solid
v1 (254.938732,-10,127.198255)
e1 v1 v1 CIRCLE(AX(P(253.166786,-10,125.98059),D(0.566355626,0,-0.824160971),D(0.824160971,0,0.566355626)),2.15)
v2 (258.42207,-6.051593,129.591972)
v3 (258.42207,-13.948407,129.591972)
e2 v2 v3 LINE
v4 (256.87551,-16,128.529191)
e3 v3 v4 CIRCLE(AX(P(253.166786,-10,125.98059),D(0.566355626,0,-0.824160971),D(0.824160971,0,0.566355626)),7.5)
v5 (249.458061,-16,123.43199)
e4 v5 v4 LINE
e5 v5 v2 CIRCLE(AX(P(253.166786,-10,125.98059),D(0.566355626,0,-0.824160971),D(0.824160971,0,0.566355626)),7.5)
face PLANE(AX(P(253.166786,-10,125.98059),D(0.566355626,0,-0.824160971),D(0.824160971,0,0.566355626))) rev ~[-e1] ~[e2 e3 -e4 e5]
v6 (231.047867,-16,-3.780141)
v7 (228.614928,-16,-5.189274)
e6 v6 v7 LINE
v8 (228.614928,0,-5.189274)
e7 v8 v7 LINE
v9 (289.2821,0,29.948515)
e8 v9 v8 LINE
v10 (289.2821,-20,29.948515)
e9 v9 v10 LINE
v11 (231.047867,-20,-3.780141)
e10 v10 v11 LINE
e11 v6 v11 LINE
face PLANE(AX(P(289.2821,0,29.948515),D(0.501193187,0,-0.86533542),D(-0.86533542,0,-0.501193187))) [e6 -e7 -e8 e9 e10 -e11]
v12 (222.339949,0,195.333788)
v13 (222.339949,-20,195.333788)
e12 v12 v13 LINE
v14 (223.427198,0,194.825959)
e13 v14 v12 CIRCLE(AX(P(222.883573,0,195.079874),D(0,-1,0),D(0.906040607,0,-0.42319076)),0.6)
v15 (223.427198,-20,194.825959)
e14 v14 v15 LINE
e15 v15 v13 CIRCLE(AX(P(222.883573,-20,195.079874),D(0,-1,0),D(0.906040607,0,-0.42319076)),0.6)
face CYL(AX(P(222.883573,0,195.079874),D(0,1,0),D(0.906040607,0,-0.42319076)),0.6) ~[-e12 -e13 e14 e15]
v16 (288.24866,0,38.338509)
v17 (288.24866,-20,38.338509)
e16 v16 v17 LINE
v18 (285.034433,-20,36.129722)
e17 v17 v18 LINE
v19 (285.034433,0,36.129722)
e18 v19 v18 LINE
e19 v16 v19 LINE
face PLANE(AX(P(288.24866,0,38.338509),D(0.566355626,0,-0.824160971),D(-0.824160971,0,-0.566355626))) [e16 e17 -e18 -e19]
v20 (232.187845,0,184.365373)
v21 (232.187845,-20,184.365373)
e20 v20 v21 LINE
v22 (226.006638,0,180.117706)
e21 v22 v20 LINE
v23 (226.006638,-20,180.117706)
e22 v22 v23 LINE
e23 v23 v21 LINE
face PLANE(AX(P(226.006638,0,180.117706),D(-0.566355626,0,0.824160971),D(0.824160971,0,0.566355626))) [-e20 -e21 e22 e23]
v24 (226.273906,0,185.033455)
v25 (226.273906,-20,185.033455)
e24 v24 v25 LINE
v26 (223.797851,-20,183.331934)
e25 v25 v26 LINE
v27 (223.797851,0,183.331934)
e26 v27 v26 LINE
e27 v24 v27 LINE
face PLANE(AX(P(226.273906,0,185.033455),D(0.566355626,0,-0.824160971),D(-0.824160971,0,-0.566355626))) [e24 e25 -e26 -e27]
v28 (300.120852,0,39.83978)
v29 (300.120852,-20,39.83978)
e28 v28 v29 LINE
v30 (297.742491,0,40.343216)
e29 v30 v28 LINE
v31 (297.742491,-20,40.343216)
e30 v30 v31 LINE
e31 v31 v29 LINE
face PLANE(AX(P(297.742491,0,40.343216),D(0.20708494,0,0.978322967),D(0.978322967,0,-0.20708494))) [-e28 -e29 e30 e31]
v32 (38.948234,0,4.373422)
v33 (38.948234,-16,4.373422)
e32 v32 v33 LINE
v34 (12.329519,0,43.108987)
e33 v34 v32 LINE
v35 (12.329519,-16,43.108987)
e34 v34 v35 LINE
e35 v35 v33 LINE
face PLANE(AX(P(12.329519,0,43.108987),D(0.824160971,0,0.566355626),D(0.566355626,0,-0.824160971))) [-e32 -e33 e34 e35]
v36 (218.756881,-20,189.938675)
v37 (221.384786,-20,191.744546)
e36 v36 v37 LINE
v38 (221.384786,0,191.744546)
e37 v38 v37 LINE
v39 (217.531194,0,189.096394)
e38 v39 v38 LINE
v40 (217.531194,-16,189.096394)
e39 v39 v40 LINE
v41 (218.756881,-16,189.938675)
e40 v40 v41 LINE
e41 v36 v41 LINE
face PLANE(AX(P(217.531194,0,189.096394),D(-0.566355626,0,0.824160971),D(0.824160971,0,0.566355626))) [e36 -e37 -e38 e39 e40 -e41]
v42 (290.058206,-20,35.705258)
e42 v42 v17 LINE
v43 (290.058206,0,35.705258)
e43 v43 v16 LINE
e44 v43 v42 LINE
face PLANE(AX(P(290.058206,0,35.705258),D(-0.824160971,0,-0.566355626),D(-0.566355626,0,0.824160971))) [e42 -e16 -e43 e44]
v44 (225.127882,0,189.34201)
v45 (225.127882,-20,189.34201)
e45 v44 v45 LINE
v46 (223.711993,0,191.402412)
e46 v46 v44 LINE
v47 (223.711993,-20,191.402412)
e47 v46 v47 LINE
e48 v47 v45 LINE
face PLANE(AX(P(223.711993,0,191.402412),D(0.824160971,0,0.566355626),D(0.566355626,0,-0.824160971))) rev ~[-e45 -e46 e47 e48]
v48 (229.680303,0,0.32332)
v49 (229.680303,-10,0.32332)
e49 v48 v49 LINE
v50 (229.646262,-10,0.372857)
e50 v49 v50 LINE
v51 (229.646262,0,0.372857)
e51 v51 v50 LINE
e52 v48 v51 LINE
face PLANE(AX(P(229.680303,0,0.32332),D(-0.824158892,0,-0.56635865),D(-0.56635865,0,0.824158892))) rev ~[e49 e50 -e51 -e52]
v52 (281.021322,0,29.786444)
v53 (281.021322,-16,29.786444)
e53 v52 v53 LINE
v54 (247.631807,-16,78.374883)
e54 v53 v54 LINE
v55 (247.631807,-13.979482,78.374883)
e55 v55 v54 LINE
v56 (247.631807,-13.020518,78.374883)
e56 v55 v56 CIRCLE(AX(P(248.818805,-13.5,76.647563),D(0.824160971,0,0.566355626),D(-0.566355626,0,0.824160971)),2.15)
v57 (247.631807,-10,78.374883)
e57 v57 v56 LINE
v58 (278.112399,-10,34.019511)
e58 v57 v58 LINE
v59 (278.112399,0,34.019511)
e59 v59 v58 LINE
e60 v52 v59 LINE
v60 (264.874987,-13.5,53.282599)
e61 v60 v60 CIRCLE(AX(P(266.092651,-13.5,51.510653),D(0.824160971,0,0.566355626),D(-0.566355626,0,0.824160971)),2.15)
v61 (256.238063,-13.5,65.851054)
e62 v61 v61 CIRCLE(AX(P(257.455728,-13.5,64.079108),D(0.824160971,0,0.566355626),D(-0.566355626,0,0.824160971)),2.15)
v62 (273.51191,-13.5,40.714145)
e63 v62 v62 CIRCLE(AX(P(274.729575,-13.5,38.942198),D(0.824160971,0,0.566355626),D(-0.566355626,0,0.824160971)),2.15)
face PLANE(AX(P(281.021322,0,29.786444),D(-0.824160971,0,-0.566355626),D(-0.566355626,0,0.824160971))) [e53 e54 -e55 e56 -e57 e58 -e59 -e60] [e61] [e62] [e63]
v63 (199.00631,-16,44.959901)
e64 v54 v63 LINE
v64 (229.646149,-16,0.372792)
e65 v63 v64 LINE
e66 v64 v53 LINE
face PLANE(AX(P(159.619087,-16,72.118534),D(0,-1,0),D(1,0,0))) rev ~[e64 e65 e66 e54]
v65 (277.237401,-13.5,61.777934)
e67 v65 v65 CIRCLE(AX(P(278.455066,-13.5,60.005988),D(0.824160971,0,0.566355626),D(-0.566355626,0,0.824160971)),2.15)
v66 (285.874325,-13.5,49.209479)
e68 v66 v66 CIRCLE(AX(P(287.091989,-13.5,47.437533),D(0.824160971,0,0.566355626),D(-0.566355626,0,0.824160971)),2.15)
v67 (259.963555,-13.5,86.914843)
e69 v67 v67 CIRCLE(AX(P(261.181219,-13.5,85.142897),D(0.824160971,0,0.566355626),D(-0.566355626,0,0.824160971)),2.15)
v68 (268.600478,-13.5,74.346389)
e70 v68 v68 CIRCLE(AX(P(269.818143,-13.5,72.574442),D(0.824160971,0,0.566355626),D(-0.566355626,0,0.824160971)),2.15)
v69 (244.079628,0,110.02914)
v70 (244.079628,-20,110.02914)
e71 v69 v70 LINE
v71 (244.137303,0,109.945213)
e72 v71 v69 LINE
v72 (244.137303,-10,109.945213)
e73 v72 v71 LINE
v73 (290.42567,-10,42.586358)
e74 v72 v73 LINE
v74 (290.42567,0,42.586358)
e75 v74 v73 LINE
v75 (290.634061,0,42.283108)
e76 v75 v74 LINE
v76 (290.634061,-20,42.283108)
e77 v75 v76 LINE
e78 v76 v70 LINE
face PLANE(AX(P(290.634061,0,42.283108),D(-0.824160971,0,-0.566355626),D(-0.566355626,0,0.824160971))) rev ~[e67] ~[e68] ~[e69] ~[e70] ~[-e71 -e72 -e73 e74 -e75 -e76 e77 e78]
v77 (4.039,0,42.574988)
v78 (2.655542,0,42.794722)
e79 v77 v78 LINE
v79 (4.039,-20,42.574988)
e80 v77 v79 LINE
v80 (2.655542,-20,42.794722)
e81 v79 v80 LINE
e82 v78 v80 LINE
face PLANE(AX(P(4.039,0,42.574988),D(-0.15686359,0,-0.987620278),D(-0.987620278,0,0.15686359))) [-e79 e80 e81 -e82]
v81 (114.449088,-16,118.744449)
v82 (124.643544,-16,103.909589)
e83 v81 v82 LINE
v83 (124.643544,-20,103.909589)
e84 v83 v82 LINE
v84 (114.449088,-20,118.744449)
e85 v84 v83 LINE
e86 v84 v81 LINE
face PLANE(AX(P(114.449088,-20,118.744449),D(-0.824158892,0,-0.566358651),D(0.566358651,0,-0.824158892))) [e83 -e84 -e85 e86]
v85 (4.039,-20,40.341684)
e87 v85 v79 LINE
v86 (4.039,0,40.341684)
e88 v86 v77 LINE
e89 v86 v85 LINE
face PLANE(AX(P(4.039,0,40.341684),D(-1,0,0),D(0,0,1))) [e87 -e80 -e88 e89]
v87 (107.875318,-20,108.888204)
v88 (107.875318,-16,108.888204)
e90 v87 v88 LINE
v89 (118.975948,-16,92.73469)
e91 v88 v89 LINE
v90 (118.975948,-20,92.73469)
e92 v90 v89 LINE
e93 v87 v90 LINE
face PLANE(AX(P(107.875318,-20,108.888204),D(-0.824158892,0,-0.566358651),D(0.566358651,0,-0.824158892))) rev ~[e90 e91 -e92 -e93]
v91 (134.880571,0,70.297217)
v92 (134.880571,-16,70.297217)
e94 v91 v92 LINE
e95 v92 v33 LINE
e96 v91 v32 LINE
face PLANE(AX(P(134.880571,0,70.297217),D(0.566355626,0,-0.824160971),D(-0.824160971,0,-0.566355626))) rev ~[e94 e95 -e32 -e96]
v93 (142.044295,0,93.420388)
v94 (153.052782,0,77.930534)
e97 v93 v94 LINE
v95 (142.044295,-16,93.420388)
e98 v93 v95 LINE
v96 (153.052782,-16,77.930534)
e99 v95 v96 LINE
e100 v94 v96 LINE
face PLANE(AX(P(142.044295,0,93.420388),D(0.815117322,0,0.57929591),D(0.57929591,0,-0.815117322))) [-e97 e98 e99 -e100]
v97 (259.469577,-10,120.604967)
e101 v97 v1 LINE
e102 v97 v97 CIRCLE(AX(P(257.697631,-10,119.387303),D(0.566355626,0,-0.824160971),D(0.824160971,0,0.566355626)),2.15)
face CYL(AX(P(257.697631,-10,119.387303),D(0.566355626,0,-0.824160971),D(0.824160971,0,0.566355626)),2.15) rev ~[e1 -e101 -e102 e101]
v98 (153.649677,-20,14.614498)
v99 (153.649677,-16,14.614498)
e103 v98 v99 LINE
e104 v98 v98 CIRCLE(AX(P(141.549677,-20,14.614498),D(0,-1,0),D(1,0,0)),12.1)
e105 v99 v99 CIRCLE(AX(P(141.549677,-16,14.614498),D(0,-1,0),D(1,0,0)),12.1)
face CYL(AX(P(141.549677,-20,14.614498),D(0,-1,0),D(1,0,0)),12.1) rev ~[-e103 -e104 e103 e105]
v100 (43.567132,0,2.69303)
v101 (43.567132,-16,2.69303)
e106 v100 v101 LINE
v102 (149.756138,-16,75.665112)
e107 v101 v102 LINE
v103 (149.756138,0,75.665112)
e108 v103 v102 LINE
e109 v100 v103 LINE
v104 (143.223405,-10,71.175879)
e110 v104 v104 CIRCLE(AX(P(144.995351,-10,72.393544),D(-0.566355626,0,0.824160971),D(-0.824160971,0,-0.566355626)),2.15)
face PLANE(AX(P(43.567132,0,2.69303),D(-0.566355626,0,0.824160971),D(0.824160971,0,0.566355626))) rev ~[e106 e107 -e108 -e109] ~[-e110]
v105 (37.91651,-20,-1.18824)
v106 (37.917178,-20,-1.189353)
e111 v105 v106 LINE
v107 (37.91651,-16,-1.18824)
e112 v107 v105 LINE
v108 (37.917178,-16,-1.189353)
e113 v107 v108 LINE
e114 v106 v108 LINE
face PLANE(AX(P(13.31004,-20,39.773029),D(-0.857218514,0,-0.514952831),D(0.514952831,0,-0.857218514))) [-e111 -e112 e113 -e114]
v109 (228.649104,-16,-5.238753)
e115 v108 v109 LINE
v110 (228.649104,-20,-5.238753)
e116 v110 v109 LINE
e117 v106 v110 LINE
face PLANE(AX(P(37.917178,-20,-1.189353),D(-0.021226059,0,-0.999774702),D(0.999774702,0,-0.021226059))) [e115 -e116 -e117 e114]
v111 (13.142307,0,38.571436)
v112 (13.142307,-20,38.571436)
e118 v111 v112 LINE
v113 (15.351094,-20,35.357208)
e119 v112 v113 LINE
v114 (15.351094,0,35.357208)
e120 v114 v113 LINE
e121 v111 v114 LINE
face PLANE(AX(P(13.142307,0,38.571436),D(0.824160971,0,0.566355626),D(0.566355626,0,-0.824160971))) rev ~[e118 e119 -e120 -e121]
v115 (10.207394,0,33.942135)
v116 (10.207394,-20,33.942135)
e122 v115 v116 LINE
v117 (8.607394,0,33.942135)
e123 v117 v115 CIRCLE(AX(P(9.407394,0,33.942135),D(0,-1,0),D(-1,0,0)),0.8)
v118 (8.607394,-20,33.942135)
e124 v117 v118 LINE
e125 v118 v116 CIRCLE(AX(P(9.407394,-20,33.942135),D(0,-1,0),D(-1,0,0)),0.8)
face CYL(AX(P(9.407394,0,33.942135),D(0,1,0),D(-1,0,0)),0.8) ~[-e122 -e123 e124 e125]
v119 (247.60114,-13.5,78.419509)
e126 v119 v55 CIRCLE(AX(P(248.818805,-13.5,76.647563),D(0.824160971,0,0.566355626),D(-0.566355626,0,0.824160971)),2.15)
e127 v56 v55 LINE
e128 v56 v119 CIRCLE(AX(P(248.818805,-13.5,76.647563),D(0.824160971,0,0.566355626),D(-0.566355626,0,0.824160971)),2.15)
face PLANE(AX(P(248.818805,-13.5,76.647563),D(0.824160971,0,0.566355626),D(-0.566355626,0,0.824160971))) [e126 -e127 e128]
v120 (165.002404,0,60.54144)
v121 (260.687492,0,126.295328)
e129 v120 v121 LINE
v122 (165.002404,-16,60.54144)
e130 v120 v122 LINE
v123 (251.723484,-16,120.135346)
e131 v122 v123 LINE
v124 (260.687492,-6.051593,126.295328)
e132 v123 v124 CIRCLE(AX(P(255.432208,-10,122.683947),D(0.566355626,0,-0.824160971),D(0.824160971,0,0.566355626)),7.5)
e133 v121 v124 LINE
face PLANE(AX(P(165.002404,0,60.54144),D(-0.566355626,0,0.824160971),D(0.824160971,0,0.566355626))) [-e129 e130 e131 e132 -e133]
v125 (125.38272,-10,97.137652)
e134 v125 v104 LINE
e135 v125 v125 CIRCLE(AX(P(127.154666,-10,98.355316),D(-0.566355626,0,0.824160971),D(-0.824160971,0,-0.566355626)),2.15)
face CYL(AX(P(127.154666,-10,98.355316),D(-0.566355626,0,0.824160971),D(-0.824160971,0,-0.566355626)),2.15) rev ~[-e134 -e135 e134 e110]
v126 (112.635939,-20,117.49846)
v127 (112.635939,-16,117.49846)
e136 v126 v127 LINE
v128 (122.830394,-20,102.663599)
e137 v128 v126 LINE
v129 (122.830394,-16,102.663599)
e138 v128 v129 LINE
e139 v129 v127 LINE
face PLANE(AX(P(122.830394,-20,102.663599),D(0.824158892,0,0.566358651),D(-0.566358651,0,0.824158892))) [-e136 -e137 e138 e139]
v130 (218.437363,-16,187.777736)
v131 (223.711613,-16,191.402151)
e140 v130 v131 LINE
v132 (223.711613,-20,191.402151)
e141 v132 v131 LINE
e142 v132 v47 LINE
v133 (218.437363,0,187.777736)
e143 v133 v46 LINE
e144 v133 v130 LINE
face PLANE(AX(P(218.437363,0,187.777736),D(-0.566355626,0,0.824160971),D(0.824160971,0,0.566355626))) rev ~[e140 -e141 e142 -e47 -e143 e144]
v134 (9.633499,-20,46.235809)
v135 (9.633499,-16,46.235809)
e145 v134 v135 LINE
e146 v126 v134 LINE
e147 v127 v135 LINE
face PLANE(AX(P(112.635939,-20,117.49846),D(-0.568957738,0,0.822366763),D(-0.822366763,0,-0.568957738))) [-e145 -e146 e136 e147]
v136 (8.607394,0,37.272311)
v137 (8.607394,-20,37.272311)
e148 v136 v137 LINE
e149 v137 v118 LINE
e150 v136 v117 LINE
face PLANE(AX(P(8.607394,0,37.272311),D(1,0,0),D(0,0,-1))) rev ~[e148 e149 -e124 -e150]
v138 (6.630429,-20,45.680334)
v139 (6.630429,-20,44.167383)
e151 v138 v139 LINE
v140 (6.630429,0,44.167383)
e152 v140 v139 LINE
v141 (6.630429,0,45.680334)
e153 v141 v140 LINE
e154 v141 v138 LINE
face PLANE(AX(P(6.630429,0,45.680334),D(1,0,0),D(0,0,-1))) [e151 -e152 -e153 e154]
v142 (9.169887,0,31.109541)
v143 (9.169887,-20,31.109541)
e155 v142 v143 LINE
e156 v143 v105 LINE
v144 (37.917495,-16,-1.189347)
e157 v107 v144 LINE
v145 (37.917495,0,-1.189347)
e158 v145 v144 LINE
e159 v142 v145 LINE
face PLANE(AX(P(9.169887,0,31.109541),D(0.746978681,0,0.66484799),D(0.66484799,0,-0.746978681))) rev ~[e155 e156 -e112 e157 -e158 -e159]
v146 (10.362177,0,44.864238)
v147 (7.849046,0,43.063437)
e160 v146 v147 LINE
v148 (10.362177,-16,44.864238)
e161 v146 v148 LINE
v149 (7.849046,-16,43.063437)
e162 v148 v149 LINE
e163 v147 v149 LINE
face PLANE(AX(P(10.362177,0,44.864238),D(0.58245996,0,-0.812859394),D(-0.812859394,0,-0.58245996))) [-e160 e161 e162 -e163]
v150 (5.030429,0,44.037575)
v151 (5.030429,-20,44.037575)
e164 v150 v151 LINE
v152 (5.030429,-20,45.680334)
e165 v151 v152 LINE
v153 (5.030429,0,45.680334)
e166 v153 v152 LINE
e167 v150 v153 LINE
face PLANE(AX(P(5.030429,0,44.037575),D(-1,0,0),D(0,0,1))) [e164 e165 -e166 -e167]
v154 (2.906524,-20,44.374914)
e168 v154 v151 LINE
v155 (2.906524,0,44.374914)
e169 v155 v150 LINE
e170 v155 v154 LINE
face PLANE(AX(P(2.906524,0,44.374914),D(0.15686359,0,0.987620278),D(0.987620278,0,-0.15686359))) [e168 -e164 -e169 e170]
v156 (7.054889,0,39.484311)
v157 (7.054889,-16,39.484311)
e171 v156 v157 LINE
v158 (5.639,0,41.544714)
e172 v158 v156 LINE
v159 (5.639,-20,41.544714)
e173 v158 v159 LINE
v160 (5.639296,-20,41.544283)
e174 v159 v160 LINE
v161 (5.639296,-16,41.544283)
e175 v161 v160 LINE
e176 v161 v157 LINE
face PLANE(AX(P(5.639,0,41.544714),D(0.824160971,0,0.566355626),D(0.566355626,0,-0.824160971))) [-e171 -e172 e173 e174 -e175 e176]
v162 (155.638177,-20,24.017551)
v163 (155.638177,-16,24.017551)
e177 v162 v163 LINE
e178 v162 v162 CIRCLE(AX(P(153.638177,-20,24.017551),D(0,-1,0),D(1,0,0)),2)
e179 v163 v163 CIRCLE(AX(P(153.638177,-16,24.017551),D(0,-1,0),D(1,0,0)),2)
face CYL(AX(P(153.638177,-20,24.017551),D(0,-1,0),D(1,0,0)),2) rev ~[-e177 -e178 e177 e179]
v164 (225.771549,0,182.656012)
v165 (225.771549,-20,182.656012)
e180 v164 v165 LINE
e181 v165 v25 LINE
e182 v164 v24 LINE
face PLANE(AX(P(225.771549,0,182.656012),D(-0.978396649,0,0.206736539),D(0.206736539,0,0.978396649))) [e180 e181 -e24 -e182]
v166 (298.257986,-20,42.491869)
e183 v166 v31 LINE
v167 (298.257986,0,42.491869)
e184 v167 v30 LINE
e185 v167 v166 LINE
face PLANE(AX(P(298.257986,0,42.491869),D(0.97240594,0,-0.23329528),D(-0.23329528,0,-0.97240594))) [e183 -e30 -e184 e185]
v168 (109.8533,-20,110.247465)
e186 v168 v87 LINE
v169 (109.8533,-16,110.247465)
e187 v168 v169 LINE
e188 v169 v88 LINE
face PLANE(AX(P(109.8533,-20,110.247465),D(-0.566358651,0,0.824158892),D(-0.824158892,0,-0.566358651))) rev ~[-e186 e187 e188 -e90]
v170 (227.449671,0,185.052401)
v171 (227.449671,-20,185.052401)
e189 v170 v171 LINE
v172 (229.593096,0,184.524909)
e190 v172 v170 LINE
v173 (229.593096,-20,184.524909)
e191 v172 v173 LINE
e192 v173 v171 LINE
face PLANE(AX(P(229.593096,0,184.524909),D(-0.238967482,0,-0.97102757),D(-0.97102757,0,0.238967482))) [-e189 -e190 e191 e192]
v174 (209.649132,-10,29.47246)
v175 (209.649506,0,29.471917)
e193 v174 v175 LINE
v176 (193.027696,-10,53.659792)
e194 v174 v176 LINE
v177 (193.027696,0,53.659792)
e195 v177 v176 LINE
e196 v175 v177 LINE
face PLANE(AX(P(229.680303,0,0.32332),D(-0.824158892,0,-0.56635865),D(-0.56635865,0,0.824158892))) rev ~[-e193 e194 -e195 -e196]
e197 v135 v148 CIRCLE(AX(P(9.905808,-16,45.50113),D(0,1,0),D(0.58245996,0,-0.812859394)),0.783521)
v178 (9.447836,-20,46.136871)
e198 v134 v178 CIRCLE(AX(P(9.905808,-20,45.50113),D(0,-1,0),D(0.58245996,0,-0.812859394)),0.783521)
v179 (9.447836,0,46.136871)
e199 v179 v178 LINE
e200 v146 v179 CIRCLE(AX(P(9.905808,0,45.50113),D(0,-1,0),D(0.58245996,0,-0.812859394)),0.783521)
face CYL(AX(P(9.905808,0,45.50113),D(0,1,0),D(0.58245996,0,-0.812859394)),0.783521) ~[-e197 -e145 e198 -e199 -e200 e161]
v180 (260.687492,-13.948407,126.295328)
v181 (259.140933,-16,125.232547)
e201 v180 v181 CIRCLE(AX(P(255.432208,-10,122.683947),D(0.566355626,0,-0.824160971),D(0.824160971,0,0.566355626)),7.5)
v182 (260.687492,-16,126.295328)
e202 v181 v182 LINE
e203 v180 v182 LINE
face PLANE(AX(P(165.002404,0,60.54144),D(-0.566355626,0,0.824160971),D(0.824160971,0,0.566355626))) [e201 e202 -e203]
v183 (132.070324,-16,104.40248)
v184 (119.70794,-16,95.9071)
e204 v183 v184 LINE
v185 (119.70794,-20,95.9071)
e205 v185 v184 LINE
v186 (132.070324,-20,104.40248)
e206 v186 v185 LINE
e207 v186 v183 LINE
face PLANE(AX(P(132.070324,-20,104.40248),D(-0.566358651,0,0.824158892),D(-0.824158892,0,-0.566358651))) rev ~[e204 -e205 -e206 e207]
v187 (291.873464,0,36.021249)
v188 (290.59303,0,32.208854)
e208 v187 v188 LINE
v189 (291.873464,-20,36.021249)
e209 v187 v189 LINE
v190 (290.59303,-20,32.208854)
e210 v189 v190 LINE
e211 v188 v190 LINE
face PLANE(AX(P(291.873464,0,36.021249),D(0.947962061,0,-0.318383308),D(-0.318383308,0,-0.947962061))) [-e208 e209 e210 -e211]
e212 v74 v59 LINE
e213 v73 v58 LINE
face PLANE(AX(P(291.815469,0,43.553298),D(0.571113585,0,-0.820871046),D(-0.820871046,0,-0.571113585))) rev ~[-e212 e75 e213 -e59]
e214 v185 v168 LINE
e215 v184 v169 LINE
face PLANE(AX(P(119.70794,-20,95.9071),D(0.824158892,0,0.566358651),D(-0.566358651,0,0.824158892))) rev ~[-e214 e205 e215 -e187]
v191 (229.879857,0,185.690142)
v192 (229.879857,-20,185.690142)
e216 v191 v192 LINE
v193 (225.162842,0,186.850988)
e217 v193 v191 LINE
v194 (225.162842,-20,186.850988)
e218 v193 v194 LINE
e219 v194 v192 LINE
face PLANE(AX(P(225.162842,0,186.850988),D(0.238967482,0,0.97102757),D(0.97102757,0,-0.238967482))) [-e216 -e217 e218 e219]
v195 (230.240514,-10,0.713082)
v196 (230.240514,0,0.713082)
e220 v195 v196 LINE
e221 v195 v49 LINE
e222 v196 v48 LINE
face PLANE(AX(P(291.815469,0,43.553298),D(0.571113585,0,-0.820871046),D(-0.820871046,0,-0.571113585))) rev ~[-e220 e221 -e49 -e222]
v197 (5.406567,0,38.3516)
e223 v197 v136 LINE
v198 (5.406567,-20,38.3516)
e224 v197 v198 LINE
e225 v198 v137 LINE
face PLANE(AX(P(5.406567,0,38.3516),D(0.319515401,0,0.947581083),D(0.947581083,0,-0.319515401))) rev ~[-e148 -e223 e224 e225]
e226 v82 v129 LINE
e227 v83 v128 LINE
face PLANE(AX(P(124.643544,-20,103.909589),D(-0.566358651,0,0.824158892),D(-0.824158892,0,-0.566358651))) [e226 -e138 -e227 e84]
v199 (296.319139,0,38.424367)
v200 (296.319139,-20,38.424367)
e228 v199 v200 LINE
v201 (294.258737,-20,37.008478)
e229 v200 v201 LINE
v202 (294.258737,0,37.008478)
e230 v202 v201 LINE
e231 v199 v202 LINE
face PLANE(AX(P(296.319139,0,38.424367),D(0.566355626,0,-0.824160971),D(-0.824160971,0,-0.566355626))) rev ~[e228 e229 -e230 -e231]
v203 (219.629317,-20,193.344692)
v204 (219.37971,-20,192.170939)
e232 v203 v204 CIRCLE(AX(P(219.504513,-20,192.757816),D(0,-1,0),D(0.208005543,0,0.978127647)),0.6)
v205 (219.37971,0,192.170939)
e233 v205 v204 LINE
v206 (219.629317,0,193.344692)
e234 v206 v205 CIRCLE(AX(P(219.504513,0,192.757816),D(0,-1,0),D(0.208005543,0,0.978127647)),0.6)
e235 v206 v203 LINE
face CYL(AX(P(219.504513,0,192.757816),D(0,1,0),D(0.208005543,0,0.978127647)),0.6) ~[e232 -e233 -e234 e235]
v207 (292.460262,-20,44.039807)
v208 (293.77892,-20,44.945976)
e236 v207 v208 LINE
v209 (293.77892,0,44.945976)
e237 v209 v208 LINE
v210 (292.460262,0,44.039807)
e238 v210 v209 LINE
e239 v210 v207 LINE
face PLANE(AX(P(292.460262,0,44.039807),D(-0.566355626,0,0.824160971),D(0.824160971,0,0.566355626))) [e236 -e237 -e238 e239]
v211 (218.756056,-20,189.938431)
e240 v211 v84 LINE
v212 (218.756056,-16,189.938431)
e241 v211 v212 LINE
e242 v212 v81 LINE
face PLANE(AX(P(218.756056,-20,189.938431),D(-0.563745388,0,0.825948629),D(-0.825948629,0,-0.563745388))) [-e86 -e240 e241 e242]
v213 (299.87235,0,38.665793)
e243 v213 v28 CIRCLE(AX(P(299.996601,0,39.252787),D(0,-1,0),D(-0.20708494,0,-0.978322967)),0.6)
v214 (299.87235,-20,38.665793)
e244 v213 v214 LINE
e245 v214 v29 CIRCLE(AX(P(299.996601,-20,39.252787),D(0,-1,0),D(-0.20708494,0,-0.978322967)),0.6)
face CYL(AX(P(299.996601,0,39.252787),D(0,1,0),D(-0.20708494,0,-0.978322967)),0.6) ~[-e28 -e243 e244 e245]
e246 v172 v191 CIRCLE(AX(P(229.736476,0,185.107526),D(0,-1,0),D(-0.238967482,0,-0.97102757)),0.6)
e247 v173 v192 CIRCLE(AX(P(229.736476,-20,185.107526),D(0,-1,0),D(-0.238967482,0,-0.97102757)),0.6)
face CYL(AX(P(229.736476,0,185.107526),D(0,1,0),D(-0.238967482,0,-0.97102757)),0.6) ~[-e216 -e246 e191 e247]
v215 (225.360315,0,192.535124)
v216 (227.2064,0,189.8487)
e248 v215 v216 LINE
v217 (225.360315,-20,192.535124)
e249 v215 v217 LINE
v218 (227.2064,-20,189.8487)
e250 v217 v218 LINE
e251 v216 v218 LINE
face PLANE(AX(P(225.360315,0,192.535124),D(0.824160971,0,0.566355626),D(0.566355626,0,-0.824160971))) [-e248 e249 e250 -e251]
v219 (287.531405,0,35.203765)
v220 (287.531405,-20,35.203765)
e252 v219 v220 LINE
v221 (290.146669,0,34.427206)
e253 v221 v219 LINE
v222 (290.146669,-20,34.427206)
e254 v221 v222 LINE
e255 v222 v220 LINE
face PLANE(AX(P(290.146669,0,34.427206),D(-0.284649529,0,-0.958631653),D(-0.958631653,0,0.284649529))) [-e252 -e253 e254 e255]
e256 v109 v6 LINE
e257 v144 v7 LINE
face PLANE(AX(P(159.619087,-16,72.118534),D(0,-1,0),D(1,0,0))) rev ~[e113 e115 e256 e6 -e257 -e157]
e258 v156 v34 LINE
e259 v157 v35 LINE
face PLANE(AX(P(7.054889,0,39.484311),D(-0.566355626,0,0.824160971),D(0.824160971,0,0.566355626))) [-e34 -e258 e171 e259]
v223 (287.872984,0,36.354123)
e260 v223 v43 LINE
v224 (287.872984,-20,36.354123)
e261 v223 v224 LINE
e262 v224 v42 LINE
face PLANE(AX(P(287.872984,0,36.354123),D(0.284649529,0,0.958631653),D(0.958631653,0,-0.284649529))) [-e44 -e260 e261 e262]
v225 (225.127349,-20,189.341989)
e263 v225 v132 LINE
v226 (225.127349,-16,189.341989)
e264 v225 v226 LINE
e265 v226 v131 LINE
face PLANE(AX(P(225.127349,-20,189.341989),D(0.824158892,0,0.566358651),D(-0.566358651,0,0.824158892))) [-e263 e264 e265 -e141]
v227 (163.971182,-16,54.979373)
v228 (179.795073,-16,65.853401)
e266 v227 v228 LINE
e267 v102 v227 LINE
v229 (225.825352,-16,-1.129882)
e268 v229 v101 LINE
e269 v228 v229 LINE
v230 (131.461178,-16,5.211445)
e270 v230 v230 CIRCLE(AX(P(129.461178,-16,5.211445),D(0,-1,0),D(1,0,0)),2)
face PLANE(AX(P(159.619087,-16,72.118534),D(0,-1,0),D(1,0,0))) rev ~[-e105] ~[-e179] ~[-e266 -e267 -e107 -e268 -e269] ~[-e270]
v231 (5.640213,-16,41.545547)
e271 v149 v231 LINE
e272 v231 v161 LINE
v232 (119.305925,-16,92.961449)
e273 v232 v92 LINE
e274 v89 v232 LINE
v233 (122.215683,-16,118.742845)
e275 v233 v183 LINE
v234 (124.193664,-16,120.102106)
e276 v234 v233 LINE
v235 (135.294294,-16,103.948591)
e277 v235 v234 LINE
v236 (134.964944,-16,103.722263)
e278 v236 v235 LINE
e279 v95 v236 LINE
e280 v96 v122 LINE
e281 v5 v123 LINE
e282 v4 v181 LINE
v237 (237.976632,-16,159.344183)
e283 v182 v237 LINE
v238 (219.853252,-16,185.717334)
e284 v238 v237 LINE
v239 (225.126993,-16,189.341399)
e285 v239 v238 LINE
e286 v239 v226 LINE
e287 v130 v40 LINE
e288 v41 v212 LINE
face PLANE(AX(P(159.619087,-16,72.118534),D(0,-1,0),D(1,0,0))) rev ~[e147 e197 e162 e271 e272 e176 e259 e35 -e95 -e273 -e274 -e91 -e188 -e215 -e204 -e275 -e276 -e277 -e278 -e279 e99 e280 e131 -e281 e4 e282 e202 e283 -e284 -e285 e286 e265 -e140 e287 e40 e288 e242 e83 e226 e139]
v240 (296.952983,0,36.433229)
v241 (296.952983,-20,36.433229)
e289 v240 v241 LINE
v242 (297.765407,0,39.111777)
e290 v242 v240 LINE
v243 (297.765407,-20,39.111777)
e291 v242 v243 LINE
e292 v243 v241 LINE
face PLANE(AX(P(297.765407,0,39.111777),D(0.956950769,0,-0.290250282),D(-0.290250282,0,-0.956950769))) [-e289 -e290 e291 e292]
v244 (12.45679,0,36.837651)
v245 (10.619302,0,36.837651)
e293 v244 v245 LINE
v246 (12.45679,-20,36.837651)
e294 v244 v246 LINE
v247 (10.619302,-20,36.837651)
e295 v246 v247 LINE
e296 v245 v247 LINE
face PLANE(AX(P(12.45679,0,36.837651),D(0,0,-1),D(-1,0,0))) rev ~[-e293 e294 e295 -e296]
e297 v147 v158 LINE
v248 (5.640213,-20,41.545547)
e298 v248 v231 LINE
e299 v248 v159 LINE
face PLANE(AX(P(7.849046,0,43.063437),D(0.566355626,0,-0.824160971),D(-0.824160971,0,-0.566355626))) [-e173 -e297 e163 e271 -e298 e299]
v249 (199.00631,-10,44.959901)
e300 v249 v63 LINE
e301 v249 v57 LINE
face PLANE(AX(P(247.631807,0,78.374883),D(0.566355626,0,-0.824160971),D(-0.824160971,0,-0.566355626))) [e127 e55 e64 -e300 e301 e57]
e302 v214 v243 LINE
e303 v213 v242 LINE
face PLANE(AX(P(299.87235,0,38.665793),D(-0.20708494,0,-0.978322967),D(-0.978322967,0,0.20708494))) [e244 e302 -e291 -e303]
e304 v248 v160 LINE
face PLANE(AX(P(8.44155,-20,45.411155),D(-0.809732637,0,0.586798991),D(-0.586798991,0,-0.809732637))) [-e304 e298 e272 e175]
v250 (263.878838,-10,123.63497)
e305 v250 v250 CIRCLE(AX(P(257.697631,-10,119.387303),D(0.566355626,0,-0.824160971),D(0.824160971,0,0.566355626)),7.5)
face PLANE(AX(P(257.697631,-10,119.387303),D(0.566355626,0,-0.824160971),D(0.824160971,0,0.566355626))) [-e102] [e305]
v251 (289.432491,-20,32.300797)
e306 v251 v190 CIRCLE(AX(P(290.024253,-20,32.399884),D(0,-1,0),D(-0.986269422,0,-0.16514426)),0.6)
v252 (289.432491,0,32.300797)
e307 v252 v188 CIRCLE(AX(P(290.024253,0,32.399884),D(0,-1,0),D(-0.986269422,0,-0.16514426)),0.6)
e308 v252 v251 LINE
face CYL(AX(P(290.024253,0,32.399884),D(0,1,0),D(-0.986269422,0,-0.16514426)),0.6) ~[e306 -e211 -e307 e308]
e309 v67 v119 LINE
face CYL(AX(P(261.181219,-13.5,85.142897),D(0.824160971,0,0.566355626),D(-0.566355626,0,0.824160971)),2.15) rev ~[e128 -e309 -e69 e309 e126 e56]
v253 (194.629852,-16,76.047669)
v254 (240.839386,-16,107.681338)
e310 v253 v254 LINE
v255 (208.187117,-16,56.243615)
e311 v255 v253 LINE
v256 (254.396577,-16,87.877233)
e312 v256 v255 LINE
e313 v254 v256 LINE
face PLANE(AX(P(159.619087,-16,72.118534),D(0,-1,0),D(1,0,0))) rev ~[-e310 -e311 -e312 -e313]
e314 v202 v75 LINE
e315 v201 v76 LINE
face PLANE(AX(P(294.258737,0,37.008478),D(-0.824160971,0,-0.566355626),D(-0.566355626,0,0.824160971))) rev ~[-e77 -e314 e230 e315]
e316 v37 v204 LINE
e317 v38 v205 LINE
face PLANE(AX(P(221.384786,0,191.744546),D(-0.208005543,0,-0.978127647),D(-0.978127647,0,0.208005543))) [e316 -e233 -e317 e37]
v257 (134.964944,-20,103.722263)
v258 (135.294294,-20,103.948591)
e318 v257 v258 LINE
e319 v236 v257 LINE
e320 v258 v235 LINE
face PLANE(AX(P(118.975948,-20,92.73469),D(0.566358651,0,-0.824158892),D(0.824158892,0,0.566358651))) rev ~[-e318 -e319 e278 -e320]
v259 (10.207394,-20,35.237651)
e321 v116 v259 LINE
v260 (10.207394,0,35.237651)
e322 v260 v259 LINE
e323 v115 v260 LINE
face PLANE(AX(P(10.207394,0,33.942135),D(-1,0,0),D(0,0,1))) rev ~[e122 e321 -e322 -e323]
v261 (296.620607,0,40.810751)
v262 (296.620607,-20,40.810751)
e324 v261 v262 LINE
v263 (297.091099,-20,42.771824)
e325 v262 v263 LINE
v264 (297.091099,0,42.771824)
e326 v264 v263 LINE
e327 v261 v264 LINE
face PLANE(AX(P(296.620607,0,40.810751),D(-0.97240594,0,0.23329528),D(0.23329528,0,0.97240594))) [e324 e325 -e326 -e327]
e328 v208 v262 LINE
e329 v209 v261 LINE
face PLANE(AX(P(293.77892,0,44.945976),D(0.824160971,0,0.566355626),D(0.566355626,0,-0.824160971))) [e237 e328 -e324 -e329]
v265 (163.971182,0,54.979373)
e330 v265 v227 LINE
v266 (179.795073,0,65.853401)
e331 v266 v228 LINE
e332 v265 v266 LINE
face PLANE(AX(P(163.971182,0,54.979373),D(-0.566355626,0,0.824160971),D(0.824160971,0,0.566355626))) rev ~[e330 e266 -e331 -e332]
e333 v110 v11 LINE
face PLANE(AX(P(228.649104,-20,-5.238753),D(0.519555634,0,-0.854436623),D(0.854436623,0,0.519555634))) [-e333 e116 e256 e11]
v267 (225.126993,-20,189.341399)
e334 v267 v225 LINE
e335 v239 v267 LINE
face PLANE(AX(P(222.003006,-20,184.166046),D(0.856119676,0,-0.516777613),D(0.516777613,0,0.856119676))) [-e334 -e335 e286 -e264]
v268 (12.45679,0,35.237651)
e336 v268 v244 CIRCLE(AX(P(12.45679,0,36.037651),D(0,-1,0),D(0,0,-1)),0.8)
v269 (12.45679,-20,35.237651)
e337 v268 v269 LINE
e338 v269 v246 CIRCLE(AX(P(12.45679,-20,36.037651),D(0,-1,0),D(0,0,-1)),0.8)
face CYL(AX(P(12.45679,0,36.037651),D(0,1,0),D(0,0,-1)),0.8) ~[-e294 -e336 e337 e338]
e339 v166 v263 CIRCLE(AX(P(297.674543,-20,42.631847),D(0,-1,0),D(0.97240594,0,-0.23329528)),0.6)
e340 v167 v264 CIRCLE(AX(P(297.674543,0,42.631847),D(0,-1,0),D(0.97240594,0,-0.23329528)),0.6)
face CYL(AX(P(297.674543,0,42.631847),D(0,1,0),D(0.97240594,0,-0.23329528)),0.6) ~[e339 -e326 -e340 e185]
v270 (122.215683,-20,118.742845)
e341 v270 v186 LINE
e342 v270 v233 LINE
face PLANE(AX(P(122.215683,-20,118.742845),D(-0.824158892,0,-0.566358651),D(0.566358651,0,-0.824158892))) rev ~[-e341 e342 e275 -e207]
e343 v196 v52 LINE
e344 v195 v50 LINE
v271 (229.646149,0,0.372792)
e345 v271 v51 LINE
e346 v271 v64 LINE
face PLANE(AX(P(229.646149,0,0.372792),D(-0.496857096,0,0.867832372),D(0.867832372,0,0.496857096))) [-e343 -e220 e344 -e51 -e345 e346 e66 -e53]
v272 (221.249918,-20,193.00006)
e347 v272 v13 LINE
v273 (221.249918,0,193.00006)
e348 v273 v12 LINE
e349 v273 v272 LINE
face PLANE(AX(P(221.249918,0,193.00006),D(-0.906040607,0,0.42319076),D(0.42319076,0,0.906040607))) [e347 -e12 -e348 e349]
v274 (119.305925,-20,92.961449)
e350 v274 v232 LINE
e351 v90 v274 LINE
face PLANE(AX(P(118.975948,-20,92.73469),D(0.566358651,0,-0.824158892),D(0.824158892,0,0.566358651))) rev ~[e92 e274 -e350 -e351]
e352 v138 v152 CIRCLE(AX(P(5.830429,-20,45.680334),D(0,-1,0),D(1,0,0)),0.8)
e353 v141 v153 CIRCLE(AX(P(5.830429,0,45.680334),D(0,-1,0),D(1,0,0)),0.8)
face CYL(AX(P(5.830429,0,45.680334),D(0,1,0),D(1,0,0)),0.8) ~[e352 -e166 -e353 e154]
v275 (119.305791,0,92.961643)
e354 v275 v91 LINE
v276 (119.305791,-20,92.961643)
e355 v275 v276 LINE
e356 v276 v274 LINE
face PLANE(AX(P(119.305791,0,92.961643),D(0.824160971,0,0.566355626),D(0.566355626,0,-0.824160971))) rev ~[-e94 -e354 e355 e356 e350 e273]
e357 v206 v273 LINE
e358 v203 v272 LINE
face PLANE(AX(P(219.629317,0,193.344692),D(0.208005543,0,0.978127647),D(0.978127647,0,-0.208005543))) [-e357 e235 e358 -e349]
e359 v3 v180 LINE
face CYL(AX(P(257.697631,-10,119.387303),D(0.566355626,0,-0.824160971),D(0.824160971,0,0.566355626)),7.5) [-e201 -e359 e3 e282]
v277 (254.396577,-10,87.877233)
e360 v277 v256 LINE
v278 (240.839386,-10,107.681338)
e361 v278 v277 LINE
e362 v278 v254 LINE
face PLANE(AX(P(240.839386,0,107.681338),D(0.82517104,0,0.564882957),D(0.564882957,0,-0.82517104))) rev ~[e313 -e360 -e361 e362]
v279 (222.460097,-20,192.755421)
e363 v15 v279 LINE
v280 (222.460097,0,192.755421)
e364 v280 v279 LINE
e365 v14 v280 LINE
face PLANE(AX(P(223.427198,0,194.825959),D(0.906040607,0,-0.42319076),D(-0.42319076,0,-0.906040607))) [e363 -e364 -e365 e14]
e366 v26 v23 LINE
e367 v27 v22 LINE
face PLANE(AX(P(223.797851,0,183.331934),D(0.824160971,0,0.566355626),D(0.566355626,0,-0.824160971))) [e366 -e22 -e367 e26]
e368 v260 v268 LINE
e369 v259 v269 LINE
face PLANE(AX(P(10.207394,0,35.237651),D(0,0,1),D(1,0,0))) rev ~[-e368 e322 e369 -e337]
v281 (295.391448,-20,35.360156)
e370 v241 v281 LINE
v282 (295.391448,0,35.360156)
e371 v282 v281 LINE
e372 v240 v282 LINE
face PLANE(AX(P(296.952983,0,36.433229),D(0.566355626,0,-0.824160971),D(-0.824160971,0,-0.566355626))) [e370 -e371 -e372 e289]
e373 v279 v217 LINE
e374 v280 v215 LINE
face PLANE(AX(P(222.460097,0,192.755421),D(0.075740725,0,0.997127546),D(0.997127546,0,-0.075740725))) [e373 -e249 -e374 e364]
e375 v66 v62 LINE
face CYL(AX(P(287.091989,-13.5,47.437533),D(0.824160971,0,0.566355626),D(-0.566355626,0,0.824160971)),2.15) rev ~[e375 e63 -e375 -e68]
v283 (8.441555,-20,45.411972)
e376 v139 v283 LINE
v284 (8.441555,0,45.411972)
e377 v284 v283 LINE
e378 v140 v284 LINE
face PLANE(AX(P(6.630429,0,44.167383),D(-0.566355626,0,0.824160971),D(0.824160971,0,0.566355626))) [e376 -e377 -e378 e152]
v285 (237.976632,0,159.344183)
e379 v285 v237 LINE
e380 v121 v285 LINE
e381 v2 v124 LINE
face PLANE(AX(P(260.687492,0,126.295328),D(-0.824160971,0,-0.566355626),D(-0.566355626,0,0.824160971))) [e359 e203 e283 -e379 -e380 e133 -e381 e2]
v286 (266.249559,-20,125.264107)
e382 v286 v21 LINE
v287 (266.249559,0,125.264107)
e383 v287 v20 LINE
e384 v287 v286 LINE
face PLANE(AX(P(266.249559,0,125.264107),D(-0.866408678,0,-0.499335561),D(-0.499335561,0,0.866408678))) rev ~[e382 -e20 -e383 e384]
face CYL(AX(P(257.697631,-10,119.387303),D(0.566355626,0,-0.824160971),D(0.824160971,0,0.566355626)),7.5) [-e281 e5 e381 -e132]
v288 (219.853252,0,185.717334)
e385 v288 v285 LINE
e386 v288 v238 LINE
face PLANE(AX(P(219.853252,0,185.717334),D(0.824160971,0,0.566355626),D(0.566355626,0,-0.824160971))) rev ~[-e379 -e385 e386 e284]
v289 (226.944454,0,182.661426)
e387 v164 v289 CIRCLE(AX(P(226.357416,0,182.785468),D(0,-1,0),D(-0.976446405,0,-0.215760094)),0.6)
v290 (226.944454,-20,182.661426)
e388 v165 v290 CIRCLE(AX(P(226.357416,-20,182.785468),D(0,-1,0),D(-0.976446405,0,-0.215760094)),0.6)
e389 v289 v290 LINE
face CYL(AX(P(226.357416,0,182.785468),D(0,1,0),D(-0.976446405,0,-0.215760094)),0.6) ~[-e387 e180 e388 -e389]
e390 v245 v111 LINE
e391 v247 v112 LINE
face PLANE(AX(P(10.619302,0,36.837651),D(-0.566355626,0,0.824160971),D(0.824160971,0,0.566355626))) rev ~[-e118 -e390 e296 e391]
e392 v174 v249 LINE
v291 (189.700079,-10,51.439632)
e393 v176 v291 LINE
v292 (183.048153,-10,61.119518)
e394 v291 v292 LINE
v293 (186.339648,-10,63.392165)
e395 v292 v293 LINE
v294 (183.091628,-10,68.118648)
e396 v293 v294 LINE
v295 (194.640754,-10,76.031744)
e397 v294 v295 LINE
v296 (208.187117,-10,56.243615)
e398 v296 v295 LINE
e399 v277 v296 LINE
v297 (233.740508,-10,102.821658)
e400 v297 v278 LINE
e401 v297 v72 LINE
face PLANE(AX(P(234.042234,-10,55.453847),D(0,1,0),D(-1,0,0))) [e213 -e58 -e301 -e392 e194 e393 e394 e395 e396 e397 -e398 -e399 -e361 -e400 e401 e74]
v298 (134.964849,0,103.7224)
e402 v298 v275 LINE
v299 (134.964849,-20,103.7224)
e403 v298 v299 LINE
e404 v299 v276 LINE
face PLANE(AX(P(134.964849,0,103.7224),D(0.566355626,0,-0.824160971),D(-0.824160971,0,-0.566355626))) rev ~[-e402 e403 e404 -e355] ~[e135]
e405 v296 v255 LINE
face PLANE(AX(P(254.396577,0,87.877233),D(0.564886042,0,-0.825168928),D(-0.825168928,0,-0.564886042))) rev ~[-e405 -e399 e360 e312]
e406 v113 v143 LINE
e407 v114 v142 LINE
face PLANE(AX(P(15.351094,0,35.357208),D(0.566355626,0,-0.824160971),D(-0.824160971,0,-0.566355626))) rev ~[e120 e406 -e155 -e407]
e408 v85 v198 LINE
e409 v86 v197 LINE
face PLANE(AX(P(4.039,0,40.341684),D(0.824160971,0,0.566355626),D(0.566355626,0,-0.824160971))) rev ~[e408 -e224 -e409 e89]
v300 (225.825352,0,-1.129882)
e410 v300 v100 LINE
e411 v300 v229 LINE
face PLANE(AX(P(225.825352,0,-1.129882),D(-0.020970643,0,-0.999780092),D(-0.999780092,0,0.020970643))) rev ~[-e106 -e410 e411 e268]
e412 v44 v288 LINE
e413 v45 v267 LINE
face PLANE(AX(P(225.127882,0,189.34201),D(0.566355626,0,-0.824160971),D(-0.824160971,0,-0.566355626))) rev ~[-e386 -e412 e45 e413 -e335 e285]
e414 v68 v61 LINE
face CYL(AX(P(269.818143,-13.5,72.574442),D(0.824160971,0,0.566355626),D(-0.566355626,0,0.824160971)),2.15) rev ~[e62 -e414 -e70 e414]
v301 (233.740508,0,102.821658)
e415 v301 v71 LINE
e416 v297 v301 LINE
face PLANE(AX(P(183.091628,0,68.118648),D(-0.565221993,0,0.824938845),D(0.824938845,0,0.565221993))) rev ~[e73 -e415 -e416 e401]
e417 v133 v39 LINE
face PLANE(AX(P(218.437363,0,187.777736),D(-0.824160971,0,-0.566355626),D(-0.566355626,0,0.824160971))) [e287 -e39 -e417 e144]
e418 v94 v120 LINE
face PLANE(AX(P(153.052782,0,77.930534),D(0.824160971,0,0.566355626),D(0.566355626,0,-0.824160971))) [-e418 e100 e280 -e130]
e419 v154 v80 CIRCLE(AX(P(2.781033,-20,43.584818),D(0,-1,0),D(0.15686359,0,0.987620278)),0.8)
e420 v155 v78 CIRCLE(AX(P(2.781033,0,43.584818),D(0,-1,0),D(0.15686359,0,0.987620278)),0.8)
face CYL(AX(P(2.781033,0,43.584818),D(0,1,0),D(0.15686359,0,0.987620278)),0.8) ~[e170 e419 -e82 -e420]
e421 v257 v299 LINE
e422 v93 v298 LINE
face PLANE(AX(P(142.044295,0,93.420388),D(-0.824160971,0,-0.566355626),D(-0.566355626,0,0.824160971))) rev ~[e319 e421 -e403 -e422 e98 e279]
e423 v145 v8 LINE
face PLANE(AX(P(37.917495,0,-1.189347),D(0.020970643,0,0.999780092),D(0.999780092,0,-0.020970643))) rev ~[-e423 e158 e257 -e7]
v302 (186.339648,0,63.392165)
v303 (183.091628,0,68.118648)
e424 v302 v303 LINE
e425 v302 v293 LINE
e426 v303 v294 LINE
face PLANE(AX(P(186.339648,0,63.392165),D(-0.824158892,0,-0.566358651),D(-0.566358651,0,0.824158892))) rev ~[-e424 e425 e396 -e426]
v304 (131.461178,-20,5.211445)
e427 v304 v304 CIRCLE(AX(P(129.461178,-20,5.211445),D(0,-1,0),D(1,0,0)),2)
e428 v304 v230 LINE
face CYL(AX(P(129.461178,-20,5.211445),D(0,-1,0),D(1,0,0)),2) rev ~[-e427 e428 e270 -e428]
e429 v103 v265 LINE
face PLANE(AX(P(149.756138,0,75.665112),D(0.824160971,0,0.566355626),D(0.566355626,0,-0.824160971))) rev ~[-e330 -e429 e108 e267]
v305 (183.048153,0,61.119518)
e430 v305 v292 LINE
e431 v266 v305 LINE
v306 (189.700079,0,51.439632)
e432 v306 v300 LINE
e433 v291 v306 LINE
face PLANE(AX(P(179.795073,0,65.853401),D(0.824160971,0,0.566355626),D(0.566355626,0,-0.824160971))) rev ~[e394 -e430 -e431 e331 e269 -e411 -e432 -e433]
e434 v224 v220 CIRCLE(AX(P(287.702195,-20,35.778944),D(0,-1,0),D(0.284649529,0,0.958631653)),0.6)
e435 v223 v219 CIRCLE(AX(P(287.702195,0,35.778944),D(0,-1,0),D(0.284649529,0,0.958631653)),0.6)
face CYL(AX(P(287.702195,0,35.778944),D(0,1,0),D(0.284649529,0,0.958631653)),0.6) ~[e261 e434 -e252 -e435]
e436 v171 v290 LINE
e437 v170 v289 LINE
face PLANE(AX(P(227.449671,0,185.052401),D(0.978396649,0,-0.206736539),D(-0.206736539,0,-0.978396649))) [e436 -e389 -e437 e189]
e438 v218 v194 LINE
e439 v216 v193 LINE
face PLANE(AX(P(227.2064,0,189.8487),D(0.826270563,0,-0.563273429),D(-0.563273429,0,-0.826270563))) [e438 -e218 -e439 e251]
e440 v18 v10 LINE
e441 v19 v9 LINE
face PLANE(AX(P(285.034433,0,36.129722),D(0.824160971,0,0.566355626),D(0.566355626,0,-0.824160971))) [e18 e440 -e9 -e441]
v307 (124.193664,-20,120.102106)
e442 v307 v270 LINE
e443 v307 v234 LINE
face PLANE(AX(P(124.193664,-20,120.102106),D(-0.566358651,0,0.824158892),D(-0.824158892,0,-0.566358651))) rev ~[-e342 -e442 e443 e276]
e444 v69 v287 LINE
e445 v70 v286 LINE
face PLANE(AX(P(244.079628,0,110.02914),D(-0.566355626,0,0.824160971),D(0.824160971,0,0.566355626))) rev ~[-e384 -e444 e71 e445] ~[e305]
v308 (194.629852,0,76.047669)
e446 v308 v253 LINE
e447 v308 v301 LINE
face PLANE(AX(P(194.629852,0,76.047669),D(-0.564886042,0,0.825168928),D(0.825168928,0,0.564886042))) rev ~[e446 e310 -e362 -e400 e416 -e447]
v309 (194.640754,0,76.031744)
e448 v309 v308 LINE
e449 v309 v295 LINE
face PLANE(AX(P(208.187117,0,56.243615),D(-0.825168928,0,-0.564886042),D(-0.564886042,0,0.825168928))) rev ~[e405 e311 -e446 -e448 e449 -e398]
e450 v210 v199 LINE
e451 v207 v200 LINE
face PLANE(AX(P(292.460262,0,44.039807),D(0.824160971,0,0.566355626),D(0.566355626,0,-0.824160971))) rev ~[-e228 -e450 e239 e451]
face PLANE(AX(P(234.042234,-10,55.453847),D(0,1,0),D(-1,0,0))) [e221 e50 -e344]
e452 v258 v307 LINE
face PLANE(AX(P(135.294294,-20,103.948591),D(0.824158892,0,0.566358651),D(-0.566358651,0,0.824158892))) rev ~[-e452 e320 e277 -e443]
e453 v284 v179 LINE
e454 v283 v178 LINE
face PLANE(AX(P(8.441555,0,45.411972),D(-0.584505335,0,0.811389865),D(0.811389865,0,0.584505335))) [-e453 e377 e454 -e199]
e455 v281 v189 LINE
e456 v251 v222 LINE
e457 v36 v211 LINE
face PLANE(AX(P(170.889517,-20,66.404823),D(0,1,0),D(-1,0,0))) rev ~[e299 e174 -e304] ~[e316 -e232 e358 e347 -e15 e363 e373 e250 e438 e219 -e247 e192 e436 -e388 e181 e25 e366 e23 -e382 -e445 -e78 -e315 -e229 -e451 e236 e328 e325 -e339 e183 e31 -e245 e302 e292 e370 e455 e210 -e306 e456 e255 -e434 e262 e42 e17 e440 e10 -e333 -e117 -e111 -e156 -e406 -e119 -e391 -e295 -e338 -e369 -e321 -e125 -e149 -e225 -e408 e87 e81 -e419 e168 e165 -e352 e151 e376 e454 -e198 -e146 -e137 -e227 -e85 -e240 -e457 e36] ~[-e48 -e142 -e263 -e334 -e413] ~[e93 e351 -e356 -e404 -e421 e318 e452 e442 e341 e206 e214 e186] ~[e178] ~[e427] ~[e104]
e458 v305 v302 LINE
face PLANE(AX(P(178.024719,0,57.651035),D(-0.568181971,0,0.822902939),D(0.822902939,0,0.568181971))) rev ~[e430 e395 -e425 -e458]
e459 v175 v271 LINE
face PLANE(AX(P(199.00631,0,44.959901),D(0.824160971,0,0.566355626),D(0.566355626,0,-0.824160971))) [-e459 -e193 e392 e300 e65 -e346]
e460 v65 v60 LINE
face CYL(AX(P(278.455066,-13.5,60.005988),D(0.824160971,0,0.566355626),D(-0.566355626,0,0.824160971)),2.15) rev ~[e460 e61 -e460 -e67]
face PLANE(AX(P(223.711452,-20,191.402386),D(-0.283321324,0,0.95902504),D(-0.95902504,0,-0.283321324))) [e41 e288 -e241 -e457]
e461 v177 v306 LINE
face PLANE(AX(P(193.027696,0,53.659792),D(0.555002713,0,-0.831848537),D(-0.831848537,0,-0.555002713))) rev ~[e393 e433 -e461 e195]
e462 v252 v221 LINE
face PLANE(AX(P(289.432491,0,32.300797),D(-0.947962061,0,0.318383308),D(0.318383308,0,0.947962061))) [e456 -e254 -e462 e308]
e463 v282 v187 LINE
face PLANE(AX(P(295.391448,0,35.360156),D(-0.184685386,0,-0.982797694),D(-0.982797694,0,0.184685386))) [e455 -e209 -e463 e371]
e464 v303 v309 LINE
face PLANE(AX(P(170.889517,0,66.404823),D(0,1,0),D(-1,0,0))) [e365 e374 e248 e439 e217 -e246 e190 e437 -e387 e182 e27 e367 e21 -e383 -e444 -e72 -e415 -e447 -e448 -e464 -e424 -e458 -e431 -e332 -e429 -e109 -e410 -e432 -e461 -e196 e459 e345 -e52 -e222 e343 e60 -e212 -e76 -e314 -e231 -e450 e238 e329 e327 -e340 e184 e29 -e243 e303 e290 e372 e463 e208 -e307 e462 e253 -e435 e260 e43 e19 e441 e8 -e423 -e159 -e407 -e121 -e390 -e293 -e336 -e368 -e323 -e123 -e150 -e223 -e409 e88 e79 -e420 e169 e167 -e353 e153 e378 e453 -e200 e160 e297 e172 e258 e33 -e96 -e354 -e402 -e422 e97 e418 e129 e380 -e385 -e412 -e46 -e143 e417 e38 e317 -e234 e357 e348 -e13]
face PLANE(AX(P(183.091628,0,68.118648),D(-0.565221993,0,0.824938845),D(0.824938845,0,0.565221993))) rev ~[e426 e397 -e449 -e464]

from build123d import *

# Parameters (mm, degrees)
PAD_DEPTH       = 20
POCKET004_DEPTH = 10
POCKET001_DEPTH = 17.4
SKETCH004_R     = 2.15
POCKET003_DEPTH = 15
SKETCH007_R     = 2.15
POCKET_DEPTH    = 37
SKETCH008_R     = 2.15
POCKET005_DEPTH = 10
SKETCH005_R     = 12.1
SKETCH005_R_2   = 2
PAD001_DEPTH    = 4
SKETCH009_R     = 7.5
PAD002_DEPTH    = 8
SKETCH010_R     = 2.15
POCKET006_DEPTH = 8


with BuildPart() as part:
    # Sketch → Pad (new body)
    with BuildSketch(Plane.XZ):
        with BuildLine():
            Line((4.0389999215, 42.5749876661), (2.65554232, 42.7947220429))
            ThreePointArc((2.9065240645, 44.3749144882), (1.9909369697, 43.7103091378), (2.65554232, 42.7947220429))
            Line((2.9065240645, 44.3749144882), (5.0304287832, 44.0375749995))
            Line((5.0304287832, 44.0375749995), (5.0304287832, 45.6803340803))
            ThreePointArc((6.6304287832, 45.6803340803), (5.8304287832, 46.4803340803), (5.0304287832, 45.6803340803))
            Line((6.6304287832, 45.6803340803), (6.6304287832, 44.1673826739))
            Line((6.6304287832, 44.1673826739), (8.4415552878, 45.4119716817))
            Line((8.4415552878, 45.4119716817), (9.4478356401, 46.1368713386))
            ThreePointArc((10.3621773687, 44.8642380551), (10.5421249478, 45.9583016271), (9.4478356401, 46.1368713386))
            Line((10.3621773687, 44.8642380551), (7.8490460164, 43.0634365917))
            Line((7.8490460164, 43.0634365917), (5.6389999215, 41.5447138136))
            Line((5.6389999215, 41.5447138136), (7.0548889855, 39.4843113873))
            Line((7.0548889855, 39.4843113873), (12.3295191968, 43.1089873912))
            Line((12.3295191968, 43.1089873912), (38.948233601, 4.3734217768))
            Line((134.8805705695, 70.297216599), (38.948233601, 4.3734217768))
            Line((119.305790865, 92.9616432883), (134.8805705695, 70.297216599))
            Line((134.9648493048, 103.722400175), (119.305790865, 92.9616432883))
            Line((142.0442946251, 93.4203880435), (134.9648493048, 103.722400175))
            Line((142.0442946251, 93.4203880435), (153.0527823524, 77.9305340853))
            Line((153.0527823524, 77.9305340853), (165.0024035036, 60.5414398134))
            Line((165.0024035036, 60.5414398134), (260.687492181, 126.2953279479))
            Line((260.687492181, 126.2953279479), (237.9766315936, 159.3441828657))
            Line((219.8532515738, 185.7173339224), (237.9766315936, 159.3441828657))
            Line((225.1278817851, 189.3420099263), (219.8532515738, 185.7173339224))
            Line((223.7119927211, 191.4024123526), (225.1278817851, 189.3420099263))
            Line((218.4373625097, 187.7777363487), (223.7119927211, 191.4024123526))
            Line((218.4373625097, 187.7777363487), (217.5311935087, 189.0963939015))
            Line((217.5311935087, 189.0963939015), (221.3847855834, 191.7445459354))
            Line((221.3847855834, 191.7445459354), (219.3797100852, 192.170938972))
            ThreePointArc((219.6293167368, 193.3446921486), (218.9176368227, 192.882618886), (219.3797100852, 192.170938972))
            Line((219.6293167368, 193.3446921486), (221.2499182947, 193.0000601284))
            Line((221.2499182947, 193.0000601284), (222.3399490261, 195.3337880811))
            ThreePointArc((223.4271977541, 194.8259591695), (223.1374878459, 195.6234979893), (222.3399490261, 195.3337880811))
            Line((223.4271977541, 194.8259591695), (222.4600969226, 192.7554209925))
            Line((222.4600969226, 192.7554209925), (225.3603146621, 192.5351236039))
            Line((225.3603146621, 192.5351236039), (227.2063997814, 189.8486996774))
            Line((227.2063997814, 189.8486996774), (225.1628423907, 186.8509880341))
            Line((225.1628423907, 186.8509880341), (229.8798569494, 185.6901424243))
            ThreePointArc((229.5930959709, 184.5249093398), (230.3190930024, 184.9641453928), (229.8798569494, 185.6901424243))
            Line((229.5930959709, 184.5249093398), (227.4496707489, 185.0524009826))
            Line((227.4496707489, 185.0524009826), (226.9444544706, 182.6614258938))
            ThreePointArc((225.771548638, 182.6560117607), (226.3601860514, 182.1854742091), (226.9444544706, 182.6614258938))
            Line((225.771548638, 182.6560117607), (226.2739055744, 185.0334547935))
            Line((226.2739055744, 185.0334547935), (223.7978510454, 183.3319335348))
            Line((223.7978510454, 183.3319335348), (226.0066379853, 180.1177057498))
            Line((226.0066379853, 180.1177057498), (232.1878452642, 184.365372942))
            Line((266.2495585655, 125.2641065683), (232.1878452642, 184.365372942))
            Line((244.0796284586, 110.0291402391), (266.2495585655, 125.2641065683))
            Line((290.6340608845, 42.2831084623), (244.0796284586, 110.0291402391))
            Line((294.2587368885, 37.008478251), (290.6340608845, 42.2831084623))
            Line((296.3191393148, 38.424367315), (294.2587368885, 37.008478251))
            Line((292.4602624187, 44.0398067738), (296.3191393148, 38.424367315))
            Line((292.4602624187, 44.0398067738), (293.7789199715, 44.9459757748))
            Line((293.7789199715, 44.9459757748), (296.6206071991, 40.810751196))
            Line((296.6206071991, 40.810751196), (297.0910989584, 42.7718237934))
            ThreePointArc((298.2579860864, 42.4918694569), (297.8145196907, 43.2152901891), (297.0910989584, 42.7718237934))
            Line((298.2579860864, 42.4918694569), (297.7424907939, 40.3432161125))
            Line((297.7424907939, 40.3432161125), (300.1208515514, 39.8397804262))
            ThreePointArc((299.8723496236, 38.6657928658), (300.5835943677, 39.1285356821), (300.1208515514, 39.8397804262))
            Line((299.8723496236, 38.6657928658), (297.7654069562, 39.1117765647))
            Line((297.7654069562, 39.1117765647), (296.952983451, 36.4332286099))
            Line((296.952983451, 36.4332286099), (295.3914481397, 35.36015631))
            Line((295.3914481397, 35.36015631), (291.8734642457, 36.02124884))
            Line((291.8734642457, 36.02124884), (290.5930300808, 32.2088535913))
            ThreePointArc((289.4324911908, 32.3007970199), (289.9768664604, 31.8017577275), (290.5930300808, 32.2088535913))
            Line((289.4324911908, 32.3007970199), (290.1466686614, 34.4272060697))
            Line((290.1466686614, 34.4272060697), (287.5314050616, 35.2037645635))
            ThreePointArc((287.8729844966, 36.3541225467), (287.1270157875, 35.9497332726), (287.5314050616, 35.2037645635))
            Line((287.8729844966, 36.3541225467), (290.0582057564, 35.7052578853))
            Line((290.0582057564, 35.7052578853), (288.248660497, 38.3385089907))
            Line((288.248660497, 38.3385089907), (285.034432712, 36.1297220508))
            Line((285.034432712, 36.1297220508), (289.2820999041, 29.9485147719))
            Line((289.2820999041, 29.9485147719), (228.6149276864, -5.1892742181))
            Line((37.9174947707, -1.1893468138), (228.6149276864, -5.1892742181))
            Line((9.1698866415, 31.1095406492), (37.9174947707, -1.1893468138))
            Line((15.3510939204, 35.3572078414), (9.1698866415, 31.1095406492))
            Line((13.1423069804, 38.5714356264), (15.3510939204, 35.3572078414))
            Line((10.6193023838, 36.8376507253), (13.1423069804, 38.5714356264))
            Line((12.456789603, 36.8376507253), (10.6193023838, 36.8376507253))
            ThreePointArc((12.456789603, 35.2376507253), (13.256789603, 36.0376507253), (12.456789603, 36.8376507253))
            Line((10.207394012, 35.2376507253), (12.456789603, 35.2376507253))
            Line((10.207394012, 33.9421349105), (10.207394012, 35.2376507253))
            ThreePointArc((8.607394012, 33.9421349105), (9.407394012, 33.1421349105), (10.207394012, 33.9421349105))
            Line((8.607394012, 37.2723114812), (8.607394012, 33.9421349105))
            Line((5.4065670445, 38.351600136), (8.607394012, 37.2723114812))
            Line((4.0389999215, 40.3416844512), (5.4065670445, 38.351600136))
            Line((4.0389999215, 40.3416844512), (4.0389999215, 42.5749876661))
        make_face()
        Polygon((149.7561384703, 75.6651115828), (163.971182124, 54.9793734288), (179.795072758, 65.8534014407), (225.8253519656, -1.1298823283), (43.5671319438, 2.6930304282), align=None, mode=Mode.SUBTRACT)
        Polygon((247.6318069807, 78.3748825832), (199.00630972, 44.9599006716), (229.646149066, 0.3727921664), (281.0213223864, 29.7864441936), align=None, mode=Mode.SUBTRACT)
    extrude(amount=PAD_DEPTH)

    # Sketch006 → Pocket004 (cut)
    with BuildSketch(Plane.XZ):
        Polygon((291.8154691607, 43.5532983952), (229.6803031775, 0.323320239), (193.027696, 53.659792), (184.530685, 47.990654), (178.024719, 57.651035), (186.3396484214, 63.3921652896), (183.0916284776, 68.1186482583), (245.422424, 110.825737), align=None)
    extrude(amount=POCKET004_DEPTH, mode=Mode.SUBTRACT)

    # Sketch002 → Pocket001 (cut)
    with BuildSketch(Plane.XZ):
        Polygon((240.839386, 107.681338), (254.396576976, 87.8772330508), (208.1871169974, 56.2436147234), (194.629852, 76.047669), align=None)
    extrude(amount=POCKET001_DEPTH, mode=Mode.SUBTRACT)

    # Sketch004 (on DatumPlane) → Pocket003 (cut)
    with BuildSketch(Plane(origin=(217.1470694031, 0, 149.2214127365), x_dir=(-0.5663556256, 0, 0.8241609705), z_dir=(0.8241609705, 0, 0.5663556256))):
        with Locations((-123.5, 13.5)):
            Circle(SKETCH004_R)
        with Locations((-93, 13.5)):
            Circle(SKETCH004_R)
        with Locations((-108.25, 13.5)):
            Circle(SKETCH004_R)
        with Locations((-77.75, 13.5)):
            Circle(SKETCH004_R)
    extrude(amount=-POCKET003_DEPTH, mode=Mode.SUBTRACT)

    # Sketch007 (on DatumPlane) → Pocket (cut)
    with BuildSketch(Plane(origin=(-5.1231693546, 0, 7.455238434), x_dir=(-0.8241609705, 0, -0.5663556256), z_dir=(-0.5663556256, 0, 0.8241609705))):
        with Locations((-160.5, 10)):
            Circle(SKETCH007_R)
    extrude(amount=-POCKET_DEPTH, mode=Mode.SUBTRACT)

    # Sketch008 (on DatumPlane) → Pocket005 (cut)
    with BuildSketch(Plane(origin=(28.496623251, 0, 19.5826100321), x_dir=(-0.5663556256, 0, 0.8241609705), z_dir=(0.8241609705, 0, 0.5663556256))):
        with Locations((-122.5, 13.5)):
            Circle(SKETCH008_R)
        with Locations((-92, 13.5)):
            Circle(SKETCH008_R)
    extrude(amount=-POCKET005_DEPTH, mode=Mode.SUBTRACT)

    # Sketch005 (on DatumPlane) → Pad001 (join)
    with BuildSketch(Plane.XZ.offset(20)):
        Polygon((5.6390093024, 41.5438867756), (7.0549059293, 39.4834895465), (13.31004, 39.773029), (37.917178458, -1.1893531666), (228.649104, -5.2387525299), (287.152954, 30.335571), (283.599121, 36.427879), (290.421173, 40.857933), (242.328964, 110.216705), (262.12204, 125.860641), (222.003006, 184.166046), (225.1273486637, 189.3419885374), (223.7114520368, 191.4023857666), (218.756056001, 189.9384309091), (114.4490881489, 118.7444485703), (124.6435438626, 103.9095885203), (122.8303943009, 102.6635994887), (112.6359385872, 117.4984595386), (8.4415504736, 45.4111549307), align=None)
        with Locations((141.5496774667, 14.6144979084)):
            Circle(SKETCH005_R, mode=Mode.SUBTRACT)
        with Locations((153.6381766572, 24.0175512593)):
            Circle(SKETCH005_R_2, mode=Mode.SUBTRACT)
        with Locations((129.4611782762, 5.2114445574)):
            Circle(SKETCH005_R_2, mode=Mode.SUBTRACT)
        Polygon((118.9759479588, 92.734690012), (135.2942940138, 103.948591297), (124.1936644589, 120.1021055736), (122.2156831189, 118.7428448118), (132.0703236421, 104.4024800969), (119.7079402671, 95.9071003355), (109.8532997439, 110.2474650504), (107.8753184039, 108.8882042886), align=None, mode=Mode.SUBTRACT)
    extrude(amount=-PAD001_DEPTH)

    # Sketch009 (on DatumPlane) → Pad002 (join)
    with BuildSketch(Plane(origin=(26.9325590555, 0, -39.1922724975), x_dir=(0.8241609705, 0, 0.5663556256), z_dir=(0.5663556256, 0, -0.8241609705))):
        with Locations((280, 10)):
            Circle(SKETCH009_R)
    extrude(amount=-PAD002_DEPTH)

    # Sketch010 (on DatumPlane) → Pocket006 (cut)
    with BuildSketch(Plane(origin=(26.9325590555, 0, -39.1922724975), x_dir=(0.8241609705, 0, 0.5663556256), z_dir=(0.5663556256, 0, -0.8241609705))):
        with Locations((280, 10)):
            Circle(SKETCH010_R)
    extrude(amount=-POCKET006_DEPTH, mode=Mode.SUBTRACT)


solid = part.part
